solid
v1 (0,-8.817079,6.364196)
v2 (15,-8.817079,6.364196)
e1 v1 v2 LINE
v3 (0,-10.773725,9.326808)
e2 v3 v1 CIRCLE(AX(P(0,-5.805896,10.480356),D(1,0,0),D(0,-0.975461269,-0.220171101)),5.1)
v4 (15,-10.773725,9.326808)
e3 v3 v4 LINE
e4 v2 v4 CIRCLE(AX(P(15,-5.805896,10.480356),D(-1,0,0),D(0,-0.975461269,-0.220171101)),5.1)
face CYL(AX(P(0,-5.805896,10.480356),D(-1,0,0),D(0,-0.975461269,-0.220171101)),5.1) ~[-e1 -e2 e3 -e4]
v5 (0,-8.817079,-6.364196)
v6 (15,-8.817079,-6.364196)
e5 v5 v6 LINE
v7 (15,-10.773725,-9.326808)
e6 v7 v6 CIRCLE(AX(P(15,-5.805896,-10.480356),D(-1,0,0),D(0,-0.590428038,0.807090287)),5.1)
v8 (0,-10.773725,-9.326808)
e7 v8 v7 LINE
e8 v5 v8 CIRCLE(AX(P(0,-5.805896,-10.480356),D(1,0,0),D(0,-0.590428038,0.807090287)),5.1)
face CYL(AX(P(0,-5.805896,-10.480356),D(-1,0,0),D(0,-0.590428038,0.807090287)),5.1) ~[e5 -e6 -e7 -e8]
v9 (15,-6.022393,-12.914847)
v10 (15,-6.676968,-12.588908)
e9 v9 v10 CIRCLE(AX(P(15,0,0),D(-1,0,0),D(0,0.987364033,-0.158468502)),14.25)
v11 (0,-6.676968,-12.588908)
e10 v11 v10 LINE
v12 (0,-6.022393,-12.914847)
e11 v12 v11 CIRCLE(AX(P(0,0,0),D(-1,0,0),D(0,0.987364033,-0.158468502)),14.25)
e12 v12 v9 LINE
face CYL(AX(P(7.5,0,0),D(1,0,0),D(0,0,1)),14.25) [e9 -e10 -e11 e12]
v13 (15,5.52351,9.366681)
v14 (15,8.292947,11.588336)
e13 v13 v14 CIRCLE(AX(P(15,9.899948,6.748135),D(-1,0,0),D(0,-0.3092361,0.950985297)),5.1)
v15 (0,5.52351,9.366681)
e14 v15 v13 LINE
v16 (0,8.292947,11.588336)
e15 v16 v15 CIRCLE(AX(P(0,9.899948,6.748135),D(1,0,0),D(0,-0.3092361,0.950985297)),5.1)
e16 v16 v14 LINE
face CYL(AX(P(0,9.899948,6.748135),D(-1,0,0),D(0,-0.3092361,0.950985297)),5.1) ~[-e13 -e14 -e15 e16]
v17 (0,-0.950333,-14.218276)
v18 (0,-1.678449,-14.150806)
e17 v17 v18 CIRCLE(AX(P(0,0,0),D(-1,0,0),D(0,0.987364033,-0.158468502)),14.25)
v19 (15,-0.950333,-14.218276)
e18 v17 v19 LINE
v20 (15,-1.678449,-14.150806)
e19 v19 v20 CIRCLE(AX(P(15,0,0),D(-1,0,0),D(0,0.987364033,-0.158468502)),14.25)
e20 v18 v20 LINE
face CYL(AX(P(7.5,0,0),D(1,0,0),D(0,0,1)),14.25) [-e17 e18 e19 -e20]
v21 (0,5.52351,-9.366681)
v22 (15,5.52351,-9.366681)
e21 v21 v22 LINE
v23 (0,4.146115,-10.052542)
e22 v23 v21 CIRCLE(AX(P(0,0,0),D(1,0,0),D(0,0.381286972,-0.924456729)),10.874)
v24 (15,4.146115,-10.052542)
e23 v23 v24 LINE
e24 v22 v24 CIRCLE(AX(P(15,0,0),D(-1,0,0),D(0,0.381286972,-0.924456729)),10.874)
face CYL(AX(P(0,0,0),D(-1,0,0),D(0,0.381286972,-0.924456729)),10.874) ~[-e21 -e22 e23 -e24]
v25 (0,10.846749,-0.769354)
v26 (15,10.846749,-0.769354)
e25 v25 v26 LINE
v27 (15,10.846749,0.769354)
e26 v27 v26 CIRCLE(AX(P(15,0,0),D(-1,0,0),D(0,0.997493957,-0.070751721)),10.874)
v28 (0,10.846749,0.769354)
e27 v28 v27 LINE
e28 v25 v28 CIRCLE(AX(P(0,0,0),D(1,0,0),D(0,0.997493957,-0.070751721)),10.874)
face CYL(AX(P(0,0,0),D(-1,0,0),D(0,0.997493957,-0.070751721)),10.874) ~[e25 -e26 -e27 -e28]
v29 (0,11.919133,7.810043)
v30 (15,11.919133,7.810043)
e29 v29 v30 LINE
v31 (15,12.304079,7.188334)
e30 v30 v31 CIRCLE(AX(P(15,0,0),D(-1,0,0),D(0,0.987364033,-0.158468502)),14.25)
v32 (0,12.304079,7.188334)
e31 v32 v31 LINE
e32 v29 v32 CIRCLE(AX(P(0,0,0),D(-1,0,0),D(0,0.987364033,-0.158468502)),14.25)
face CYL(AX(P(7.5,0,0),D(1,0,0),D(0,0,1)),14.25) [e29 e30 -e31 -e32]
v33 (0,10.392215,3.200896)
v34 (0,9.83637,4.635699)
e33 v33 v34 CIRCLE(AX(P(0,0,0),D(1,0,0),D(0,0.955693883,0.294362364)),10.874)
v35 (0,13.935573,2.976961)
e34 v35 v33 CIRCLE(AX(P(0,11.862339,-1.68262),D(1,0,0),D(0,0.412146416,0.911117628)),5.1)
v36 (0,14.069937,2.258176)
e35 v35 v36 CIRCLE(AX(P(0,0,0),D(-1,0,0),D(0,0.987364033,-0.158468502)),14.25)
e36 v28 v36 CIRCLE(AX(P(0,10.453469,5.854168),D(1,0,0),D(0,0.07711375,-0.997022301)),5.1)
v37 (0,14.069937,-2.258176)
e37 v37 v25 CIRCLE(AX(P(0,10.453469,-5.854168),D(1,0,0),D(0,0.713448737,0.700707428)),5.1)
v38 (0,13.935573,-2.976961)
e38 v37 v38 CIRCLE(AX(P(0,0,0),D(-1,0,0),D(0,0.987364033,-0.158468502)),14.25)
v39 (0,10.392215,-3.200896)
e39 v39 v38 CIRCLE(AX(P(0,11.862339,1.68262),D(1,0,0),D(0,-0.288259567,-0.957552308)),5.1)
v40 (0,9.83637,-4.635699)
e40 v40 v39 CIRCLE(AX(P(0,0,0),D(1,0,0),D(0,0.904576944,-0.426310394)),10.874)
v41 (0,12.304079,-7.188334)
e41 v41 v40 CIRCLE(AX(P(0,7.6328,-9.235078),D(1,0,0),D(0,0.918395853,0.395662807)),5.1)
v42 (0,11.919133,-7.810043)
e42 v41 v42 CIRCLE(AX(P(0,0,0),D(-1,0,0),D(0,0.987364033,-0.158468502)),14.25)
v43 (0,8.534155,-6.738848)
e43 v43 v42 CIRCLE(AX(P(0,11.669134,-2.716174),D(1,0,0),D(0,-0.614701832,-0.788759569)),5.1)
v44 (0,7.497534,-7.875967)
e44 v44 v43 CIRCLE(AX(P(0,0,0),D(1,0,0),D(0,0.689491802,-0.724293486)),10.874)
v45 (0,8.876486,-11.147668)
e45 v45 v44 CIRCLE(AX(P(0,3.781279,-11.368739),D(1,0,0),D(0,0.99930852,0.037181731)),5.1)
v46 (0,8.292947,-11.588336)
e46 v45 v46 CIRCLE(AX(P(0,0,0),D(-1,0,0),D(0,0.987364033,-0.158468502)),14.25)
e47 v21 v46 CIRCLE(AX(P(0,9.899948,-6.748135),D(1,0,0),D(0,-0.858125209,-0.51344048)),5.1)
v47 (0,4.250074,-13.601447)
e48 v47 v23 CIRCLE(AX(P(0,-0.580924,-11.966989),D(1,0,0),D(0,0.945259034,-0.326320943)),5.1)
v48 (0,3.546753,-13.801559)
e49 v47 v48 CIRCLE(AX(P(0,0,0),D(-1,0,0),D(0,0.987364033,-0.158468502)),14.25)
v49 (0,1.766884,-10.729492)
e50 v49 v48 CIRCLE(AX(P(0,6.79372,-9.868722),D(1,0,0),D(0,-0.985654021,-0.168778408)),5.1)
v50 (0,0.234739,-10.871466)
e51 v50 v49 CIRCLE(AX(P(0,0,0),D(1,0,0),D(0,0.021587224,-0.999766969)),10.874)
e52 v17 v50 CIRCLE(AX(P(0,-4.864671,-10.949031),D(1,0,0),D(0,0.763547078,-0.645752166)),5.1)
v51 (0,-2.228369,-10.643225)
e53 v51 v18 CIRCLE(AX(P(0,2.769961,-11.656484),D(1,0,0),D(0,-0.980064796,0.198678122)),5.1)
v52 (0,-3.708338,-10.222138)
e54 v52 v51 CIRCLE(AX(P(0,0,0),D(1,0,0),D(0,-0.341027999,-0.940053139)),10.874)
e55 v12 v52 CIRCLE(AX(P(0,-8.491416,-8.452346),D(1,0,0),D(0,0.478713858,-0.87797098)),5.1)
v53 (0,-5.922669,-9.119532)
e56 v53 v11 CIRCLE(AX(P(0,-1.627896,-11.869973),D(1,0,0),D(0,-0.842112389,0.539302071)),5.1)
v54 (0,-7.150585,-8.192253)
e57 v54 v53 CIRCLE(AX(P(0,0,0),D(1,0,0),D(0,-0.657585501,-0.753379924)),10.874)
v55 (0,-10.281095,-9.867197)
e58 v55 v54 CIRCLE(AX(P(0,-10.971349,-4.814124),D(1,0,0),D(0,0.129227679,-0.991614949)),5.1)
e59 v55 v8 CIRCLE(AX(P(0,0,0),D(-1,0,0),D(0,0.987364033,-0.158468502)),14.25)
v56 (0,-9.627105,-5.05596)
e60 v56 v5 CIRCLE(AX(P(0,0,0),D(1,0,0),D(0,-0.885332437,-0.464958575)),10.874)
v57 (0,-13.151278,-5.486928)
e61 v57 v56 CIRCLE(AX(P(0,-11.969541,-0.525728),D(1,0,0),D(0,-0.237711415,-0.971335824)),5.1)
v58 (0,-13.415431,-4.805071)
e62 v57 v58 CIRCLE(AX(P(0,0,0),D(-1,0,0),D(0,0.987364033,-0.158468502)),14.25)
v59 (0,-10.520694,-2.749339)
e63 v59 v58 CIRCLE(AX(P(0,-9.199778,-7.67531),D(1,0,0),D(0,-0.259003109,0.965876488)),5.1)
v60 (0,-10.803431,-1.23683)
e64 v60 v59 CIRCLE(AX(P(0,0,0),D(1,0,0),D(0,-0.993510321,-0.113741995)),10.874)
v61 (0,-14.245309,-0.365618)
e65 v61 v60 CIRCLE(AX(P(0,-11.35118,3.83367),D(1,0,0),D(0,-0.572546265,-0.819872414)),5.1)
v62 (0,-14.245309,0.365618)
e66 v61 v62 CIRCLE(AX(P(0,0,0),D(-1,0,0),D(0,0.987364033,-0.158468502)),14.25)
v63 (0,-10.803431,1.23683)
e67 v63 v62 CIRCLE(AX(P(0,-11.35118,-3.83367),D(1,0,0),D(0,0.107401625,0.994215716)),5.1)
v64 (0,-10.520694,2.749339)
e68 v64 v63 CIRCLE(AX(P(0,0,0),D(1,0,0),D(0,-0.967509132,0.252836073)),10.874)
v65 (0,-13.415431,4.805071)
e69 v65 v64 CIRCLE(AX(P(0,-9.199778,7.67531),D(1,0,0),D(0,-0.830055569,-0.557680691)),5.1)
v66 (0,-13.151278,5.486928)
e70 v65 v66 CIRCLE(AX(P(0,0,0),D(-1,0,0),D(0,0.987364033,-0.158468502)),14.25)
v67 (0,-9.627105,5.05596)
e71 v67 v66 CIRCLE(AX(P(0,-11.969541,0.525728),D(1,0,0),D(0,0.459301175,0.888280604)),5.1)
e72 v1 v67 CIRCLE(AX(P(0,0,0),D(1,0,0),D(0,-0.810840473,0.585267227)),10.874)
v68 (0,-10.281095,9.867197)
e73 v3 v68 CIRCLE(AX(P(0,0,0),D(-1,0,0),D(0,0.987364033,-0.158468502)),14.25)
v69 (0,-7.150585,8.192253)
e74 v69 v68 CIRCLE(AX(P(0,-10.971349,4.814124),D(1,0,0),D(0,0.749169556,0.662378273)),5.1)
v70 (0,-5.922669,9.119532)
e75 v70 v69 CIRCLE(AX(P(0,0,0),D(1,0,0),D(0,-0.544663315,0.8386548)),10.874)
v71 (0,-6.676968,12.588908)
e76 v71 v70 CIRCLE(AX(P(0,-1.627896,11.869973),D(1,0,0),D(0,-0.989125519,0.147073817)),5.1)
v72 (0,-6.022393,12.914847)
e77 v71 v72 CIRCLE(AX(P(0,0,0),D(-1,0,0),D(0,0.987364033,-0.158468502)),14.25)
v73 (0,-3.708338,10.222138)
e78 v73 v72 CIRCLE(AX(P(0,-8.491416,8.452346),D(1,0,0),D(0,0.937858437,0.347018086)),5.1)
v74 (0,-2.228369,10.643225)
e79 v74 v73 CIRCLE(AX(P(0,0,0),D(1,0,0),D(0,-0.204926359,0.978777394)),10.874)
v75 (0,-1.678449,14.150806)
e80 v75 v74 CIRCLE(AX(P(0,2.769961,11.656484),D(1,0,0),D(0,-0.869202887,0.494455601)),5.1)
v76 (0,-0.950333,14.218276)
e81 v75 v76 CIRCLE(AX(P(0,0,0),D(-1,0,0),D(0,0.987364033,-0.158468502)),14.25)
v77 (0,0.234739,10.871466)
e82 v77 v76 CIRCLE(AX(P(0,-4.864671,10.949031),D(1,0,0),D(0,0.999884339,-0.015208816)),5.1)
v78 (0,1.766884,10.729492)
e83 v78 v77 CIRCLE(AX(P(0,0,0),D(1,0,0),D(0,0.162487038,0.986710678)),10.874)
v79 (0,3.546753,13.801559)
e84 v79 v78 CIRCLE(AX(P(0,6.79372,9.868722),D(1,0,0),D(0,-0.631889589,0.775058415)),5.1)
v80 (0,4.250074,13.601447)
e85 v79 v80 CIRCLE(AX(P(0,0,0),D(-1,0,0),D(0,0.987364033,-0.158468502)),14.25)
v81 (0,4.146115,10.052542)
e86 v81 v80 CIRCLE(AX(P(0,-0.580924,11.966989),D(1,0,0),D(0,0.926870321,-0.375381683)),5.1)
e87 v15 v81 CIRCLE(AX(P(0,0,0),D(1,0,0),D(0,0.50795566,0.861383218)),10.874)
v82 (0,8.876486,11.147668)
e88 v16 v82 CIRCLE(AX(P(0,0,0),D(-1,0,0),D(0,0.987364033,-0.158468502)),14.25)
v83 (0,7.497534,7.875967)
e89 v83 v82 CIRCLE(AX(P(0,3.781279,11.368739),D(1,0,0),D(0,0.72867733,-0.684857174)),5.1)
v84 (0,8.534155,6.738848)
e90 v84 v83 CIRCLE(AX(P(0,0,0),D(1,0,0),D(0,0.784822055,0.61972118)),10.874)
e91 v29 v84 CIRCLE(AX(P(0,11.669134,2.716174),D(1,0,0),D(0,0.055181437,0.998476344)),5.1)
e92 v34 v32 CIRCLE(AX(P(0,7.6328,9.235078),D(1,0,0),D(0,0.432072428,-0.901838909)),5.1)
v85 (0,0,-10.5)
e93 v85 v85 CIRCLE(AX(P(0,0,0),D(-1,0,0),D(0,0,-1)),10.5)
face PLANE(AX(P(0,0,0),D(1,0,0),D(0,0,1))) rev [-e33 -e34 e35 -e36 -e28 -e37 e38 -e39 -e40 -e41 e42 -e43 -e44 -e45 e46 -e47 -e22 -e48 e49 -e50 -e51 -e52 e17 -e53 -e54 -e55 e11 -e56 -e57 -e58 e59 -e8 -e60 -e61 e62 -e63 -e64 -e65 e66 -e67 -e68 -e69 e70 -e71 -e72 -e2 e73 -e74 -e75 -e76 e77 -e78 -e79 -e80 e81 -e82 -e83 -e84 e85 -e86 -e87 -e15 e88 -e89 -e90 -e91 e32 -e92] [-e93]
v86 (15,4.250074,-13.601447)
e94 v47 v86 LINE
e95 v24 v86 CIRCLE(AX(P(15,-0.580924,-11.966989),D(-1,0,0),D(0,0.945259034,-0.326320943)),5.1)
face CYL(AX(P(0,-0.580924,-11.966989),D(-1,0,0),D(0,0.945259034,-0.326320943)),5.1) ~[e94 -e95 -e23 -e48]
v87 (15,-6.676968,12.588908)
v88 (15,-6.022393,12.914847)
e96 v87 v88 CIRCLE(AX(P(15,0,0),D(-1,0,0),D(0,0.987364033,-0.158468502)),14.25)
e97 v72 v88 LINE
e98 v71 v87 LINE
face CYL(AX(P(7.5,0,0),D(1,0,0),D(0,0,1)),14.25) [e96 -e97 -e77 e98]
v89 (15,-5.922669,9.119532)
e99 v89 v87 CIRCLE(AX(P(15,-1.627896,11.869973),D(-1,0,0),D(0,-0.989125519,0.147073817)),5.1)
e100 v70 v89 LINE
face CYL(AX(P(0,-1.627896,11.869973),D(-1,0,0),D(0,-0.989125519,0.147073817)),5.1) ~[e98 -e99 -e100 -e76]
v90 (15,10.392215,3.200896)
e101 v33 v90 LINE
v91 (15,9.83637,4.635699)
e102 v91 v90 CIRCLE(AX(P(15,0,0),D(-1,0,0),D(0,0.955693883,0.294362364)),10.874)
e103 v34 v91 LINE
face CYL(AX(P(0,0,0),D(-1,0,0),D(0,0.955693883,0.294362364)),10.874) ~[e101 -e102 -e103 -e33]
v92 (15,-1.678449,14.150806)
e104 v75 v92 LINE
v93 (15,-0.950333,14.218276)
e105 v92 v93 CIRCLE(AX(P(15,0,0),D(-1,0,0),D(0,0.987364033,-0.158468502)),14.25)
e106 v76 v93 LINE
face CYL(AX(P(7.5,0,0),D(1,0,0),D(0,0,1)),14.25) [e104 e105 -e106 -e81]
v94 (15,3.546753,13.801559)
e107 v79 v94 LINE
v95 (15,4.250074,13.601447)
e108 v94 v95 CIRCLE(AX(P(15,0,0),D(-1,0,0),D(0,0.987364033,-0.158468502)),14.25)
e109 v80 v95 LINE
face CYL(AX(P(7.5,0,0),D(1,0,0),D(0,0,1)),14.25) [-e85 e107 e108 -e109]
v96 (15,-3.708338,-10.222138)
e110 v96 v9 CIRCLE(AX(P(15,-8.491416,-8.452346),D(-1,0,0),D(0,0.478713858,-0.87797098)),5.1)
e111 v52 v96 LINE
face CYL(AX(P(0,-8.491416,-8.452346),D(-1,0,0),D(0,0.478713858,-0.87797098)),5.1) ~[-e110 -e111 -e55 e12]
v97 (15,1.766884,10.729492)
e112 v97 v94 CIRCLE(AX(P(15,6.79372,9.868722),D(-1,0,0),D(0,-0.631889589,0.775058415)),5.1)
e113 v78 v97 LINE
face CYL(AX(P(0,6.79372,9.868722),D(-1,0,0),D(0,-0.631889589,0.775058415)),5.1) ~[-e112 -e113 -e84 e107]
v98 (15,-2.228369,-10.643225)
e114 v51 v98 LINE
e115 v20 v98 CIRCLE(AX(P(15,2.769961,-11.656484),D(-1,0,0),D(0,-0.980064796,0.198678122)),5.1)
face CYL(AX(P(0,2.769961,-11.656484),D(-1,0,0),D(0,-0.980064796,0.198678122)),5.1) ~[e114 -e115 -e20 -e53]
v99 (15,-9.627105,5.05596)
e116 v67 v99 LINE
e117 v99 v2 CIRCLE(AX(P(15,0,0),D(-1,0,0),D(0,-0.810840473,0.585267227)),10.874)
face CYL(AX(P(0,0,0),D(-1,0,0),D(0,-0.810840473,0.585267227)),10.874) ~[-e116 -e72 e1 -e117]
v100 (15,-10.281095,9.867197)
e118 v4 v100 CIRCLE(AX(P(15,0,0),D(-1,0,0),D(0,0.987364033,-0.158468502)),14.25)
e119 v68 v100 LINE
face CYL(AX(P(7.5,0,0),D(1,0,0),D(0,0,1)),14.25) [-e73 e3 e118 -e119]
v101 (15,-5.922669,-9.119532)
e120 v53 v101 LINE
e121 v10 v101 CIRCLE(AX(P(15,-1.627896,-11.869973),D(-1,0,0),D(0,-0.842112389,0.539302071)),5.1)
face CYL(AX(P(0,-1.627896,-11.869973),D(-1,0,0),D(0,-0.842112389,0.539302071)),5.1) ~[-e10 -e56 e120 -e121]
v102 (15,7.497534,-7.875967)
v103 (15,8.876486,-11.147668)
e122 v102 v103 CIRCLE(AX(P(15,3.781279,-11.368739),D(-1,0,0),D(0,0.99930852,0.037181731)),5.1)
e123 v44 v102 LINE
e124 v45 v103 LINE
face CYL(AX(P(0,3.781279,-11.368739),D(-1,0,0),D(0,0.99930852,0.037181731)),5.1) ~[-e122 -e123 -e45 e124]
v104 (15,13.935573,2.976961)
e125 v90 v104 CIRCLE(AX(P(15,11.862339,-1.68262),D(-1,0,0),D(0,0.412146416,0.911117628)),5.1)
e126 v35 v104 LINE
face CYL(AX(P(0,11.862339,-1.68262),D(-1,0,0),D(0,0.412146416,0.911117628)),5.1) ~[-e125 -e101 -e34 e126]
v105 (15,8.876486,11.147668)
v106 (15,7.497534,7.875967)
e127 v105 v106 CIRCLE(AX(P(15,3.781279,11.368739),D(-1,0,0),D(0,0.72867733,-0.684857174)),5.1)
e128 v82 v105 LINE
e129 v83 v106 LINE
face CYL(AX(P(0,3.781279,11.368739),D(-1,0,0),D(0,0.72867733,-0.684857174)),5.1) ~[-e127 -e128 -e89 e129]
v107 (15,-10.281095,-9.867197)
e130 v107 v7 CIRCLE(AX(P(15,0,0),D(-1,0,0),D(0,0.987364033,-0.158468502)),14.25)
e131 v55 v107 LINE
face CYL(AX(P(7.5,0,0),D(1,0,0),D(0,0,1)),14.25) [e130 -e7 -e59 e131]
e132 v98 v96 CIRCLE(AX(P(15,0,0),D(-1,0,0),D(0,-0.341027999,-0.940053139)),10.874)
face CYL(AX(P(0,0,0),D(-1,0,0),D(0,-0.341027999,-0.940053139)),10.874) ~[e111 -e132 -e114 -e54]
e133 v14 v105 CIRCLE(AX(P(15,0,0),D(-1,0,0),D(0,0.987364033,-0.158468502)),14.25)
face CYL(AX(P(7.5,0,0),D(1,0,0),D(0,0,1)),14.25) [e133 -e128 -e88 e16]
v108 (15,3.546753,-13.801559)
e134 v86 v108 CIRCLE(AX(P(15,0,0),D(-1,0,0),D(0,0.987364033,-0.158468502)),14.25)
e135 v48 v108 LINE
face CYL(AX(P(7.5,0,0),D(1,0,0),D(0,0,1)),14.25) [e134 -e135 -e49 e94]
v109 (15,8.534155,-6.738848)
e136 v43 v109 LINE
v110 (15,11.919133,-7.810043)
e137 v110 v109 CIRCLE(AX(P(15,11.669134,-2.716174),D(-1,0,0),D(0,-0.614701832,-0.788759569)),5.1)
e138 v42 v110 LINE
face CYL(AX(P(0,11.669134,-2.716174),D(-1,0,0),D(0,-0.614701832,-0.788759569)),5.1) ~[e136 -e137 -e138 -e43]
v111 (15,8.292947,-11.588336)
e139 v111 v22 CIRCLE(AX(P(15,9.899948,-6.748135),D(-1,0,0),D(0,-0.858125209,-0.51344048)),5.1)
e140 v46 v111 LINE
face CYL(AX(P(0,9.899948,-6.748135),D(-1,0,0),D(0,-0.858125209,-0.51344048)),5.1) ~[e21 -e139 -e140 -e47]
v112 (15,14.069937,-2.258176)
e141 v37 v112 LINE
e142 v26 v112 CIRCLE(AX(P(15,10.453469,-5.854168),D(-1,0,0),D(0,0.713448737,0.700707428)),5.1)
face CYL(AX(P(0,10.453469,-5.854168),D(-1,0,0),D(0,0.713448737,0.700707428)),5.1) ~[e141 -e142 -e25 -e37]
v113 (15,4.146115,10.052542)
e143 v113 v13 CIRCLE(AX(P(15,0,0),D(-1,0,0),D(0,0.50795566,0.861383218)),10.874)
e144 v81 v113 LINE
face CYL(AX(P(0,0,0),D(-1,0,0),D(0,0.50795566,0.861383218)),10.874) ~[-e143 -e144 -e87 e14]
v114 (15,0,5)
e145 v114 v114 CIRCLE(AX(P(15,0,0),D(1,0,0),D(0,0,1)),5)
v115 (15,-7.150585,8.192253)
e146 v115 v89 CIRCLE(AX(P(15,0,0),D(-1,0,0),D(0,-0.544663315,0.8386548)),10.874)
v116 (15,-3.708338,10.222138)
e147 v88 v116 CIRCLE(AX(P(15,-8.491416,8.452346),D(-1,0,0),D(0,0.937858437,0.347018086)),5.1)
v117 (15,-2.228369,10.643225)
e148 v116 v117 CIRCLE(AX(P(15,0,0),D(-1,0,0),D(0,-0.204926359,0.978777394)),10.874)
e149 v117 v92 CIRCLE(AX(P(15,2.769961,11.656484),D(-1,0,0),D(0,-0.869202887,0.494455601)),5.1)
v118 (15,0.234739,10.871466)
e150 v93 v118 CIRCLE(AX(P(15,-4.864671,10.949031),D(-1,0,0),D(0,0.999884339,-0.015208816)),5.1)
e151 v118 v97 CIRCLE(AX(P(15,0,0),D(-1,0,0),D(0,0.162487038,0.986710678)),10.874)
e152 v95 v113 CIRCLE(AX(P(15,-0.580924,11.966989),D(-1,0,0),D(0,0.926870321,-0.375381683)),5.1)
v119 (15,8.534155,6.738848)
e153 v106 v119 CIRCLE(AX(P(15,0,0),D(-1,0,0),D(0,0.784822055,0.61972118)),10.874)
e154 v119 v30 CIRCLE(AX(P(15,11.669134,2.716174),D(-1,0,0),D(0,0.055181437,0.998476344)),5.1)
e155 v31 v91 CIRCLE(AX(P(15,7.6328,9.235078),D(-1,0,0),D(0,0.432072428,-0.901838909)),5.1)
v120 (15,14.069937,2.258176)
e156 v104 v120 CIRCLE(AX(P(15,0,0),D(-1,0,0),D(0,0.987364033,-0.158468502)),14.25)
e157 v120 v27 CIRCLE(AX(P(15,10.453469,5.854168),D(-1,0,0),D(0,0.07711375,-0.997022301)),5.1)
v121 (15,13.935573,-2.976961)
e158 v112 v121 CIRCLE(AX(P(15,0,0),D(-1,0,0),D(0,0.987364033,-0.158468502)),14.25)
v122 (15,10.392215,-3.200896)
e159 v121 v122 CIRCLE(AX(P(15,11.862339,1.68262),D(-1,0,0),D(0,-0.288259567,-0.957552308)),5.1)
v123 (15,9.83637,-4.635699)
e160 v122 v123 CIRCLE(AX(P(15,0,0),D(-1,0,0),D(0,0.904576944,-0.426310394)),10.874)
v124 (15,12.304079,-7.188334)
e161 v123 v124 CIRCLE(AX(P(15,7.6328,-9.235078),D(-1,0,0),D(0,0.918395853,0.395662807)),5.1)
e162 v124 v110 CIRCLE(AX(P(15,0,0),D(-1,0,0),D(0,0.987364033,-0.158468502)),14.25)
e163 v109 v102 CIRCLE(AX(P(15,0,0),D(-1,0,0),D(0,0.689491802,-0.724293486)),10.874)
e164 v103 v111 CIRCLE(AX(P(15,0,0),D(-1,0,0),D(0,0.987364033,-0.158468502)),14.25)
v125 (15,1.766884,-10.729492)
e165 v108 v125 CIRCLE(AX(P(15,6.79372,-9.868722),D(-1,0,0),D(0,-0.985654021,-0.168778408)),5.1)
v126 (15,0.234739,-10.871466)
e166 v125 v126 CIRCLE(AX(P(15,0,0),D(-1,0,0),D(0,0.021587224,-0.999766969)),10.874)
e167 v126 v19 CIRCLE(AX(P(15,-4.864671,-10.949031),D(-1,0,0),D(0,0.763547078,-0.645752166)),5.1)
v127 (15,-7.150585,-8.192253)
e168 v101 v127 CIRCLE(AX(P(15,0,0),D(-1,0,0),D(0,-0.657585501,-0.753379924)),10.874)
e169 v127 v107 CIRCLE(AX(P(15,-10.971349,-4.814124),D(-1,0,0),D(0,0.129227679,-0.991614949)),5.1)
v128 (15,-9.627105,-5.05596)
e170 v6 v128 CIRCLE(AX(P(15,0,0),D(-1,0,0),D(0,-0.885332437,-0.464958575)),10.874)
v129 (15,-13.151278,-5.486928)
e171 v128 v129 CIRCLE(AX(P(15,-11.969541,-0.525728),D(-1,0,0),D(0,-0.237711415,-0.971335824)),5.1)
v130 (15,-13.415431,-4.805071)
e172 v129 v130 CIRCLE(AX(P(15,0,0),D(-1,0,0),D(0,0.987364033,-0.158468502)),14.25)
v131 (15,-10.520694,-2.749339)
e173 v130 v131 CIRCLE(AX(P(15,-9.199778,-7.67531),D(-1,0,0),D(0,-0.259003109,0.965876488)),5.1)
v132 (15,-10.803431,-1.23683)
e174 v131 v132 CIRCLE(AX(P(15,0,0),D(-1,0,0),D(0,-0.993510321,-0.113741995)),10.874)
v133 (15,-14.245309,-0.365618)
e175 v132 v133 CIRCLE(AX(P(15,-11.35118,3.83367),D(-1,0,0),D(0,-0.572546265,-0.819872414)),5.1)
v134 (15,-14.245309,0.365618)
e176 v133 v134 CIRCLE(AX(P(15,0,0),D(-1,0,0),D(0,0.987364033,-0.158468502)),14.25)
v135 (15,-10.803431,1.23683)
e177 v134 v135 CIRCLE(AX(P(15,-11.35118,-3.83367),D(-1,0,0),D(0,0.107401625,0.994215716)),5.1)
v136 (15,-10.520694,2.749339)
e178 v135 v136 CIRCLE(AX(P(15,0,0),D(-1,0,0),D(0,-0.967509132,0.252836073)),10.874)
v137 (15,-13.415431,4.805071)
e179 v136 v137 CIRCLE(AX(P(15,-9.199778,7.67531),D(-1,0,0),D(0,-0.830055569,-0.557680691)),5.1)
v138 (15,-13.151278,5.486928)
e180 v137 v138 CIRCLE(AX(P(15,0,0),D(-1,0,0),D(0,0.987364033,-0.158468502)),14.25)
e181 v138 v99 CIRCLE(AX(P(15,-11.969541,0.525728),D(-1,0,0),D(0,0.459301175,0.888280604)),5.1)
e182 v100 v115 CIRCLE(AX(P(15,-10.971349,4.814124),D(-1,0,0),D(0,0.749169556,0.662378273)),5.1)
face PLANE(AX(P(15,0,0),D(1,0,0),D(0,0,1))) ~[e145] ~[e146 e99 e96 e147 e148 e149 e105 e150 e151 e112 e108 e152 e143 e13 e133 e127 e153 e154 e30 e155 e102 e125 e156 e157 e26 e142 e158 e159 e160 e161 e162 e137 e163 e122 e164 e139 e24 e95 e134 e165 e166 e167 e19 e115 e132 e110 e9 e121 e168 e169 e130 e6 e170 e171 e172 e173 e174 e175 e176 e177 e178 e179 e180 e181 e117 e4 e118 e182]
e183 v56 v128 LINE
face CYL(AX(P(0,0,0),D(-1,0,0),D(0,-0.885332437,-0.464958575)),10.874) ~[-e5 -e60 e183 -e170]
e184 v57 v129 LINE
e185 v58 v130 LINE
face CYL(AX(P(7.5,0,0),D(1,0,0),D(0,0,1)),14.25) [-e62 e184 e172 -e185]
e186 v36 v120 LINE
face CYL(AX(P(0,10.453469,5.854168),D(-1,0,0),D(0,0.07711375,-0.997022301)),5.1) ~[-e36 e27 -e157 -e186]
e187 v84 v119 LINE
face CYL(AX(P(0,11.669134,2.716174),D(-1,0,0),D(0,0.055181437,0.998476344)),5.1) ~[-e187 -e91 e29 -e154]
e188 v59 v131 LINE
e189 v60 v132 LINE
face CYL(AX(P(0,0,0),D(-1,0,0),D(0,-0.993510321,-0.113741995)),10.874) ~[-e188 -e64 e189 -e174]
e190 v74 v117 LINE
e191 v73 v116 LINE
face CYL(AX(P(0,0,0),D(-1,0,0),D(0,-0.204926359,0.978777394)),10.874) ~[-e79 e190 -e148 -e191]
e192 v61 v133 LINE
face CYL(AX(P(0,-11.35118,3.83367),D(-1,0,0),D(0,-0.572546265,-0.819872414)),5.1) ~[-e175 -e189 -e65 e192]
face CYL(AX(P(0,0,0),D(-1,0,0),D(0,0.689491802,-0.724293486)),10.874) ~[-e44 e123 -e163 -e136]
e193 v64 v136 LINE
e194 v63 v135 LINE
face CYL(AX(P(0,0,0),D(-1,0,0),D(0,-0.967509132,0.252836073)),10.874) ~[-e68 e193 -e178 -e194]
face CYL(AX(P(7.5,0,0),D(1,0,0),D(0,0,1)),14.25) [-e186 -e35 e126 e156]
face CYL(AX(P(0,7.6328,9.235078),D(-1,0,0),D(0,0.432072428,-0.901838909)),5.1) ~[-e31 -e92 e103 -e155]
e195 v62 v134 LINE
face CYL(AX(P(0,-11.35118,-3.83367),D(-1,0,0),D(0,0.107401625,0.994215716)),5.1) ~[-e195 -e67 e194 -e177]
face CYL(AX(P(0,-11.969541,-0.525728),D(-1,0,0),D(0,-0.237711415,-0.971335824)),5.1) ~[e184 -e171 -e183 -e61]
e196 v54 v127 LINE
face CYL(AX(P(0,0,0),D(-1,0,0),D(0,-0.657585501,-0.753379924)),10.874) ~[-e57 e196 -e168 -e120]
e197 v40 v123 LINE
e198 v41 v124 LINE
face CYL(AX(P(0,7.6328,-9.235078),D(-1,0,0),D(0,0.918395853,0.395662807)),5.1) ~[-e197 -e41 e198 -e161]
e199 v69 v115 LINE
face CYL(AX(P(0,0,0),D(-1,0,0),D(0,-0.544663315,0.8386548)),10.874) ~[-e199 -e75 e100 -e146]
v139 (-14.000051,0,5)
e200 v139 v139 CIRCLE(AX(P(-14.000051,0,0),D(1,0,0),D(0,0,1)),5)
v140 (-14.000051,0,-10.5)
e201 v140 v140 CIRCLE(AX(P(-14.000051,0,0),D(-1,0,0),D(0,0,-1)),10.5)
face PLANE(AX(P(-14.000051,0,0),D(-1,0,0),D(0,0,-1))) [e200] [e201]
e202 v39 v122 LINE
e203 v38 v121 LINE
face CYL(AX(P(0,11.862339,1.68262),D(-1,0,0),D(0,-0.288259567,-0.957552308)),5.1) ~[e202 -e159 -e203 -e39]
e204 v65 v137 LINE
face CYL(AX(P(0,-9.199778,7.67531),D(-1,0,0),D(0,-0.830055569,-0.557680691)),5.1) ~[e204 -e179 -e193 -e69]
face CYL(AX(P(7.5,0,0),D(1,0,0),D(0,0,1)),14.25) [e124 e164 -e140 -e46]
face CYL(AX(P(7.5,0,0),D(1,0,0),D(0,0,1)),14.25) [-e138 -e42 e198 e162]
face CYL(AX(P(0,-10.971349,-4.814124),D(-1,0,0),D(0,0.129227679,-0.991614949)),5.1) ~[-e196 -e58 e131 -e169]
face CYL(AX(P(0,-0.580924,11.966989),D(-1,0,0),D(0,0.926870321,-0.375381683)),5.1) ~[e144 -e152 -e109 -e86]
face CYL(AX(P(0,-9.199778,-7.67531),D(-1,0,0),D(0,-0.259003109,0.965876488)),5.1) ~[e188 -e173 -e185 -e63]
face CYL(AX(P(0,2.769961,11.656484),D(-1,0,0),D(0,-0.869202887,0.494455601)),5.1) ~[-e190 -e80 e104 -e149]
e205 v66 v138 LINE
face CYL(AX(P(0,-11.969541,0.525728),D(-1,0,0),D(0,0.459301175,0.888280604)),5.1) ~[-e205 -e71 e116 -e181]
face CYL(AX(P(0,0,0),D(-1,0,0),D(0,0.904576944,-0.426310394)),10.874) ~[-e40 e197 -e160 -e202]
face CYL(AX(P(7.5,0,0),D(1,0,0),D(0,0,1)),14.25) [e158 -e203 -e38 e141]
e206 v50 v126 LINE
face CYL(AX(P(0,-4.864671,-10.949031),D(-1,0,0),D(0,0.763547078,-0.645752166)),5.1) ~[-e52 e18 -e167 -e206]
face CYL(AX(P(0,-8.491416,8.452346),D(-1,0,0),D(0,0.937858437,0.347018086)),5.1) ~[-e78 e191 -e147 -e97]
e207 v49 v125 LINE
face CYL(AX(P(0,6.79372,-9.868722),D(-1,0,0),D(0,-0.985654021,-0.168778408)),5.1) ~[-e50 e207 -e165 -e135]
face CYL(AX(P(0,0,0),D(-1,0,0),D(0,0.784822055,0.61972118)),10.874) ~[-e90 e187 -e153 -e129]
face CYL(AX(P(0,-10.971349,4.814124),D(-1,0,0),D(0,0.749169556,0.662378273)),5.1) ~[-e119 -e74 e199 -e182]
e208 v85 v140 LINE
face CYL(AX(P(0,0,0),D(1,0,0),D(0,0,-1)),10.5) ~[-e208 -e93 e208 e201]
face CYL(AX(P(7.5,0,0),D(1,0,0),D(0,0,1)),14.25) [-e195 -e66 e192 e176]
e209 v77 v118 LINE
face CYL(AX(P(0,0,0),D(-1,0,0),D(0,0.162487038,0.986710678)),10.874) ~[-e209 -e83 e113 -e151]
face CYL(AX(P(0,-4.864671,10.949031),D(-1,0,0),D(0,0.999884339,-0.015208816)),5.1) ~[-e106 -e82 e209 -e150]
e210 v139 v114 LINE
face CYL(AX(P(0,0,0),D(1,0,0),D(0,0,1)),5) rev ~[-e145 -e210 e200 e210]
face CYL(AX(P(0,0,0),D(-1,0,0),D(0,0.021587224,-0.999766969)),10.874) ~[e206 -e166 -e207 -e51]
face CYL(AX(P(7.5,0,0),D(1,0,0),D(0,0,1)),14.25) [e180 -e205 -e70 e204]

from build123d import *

# Parameters (mm, degrees)
BASPROSKE_W      = 15
BASPROSKE_H      = 14.25
TOOTHCUT_DEPTH   = 26.122201337
TEETHCUTS_COUNT  = 17
TEETHCUTS_ANGLE  = 338.823529412
HUBNEAONESKE_R   = 10.5
HUBNEARONE_DEPTH = 14.0000508
BORSKE_R         = 5
BORE_DEPTH       = 29.0000508


with BuildPart() as part:
    # BasProSke → Base-Revolve (revolve)
    with BuildSketch(Plane(origin=(0, 0, 0), x_dir=(1, 0, 0), z_dir=(0, 1, 0)), mode=Mode.PRIVATE) as base_revolve_sk:
        with Locations((7.5, 7.125)):
            Rectangle(BASPROSKE_W, BASPROSKE_H)
    revolve(base_revolve_sk.sketch.rotate(Axis((-10, 0, 0), (1, 0, 0)), 180), axis=Axis((-10, 0, 0), (1, 0, 0)))

    # TooCutSke → ToothCut (cut, through all)
    with BuildSketch(Plane(origin=(0, 0, 0), x_dir=(0, 0, -1), z_dir=(1, 0, 0))):
        with BuildLine():
            ThreePointArc((0.769354207, 10.846749287), (0, 10.874), (-0.769354207, 10.846749287))
            ThreePointArc((-0.769354207, 10.846749287), (-1.230849554, 12.606357238), (-2.280560064, 14.092057726))
            ThreePointArc((-2.280560064, 14.092057726), (0, 14.2754), (2.280560064, 14.092057726))
            ThreePointArc((2.280560064, 14.092057726), (1.230849554, 12.606357238), (0.769354207, 10.846749287))
        make_face()
    toothcut = extrude(amount=TOOTHCUT_DEPTH, mode=Mode.SUBTRACT)

    # TeethCuts: ToothCut ×17 about axis
    teethcuts_axis = Axis((-10, 0, 0), (1, 0, 0))
    for i in range(1, TEETHCUTS_COUNT):
        add(toothcut.rotate(teethcuts_axis, i * TEETHCUTS_ANGLE / (TEETHCUTS_COUNT - 1)), mode=Mode.SUBTRACT)

    # HubNeaOneSke → HubNearOne (add)
    with BuildSketch(Plane.ZY):
        with Locations(Location((0, 0, 0), (0, 0, 180))):
            Circle(HUBNEAONESKE_R)
    extrude(amount=HUBNEARONE_DEPTH)

    # BorSke → Bore (cut, symmetric)
    with BuildSketch(Plane(origin=(0, 0, 0), x_dir=(0, 0, -1), z_dir=(1, 0, 0))):
        with Locations(Location((0, 0, 0), (0, 0, 180))):
            Circle(BORSKE_R)
    extrude(amount=BORE_DEPTH, both=True, mode=Mode.SUBTRACT)


solid = part.part
